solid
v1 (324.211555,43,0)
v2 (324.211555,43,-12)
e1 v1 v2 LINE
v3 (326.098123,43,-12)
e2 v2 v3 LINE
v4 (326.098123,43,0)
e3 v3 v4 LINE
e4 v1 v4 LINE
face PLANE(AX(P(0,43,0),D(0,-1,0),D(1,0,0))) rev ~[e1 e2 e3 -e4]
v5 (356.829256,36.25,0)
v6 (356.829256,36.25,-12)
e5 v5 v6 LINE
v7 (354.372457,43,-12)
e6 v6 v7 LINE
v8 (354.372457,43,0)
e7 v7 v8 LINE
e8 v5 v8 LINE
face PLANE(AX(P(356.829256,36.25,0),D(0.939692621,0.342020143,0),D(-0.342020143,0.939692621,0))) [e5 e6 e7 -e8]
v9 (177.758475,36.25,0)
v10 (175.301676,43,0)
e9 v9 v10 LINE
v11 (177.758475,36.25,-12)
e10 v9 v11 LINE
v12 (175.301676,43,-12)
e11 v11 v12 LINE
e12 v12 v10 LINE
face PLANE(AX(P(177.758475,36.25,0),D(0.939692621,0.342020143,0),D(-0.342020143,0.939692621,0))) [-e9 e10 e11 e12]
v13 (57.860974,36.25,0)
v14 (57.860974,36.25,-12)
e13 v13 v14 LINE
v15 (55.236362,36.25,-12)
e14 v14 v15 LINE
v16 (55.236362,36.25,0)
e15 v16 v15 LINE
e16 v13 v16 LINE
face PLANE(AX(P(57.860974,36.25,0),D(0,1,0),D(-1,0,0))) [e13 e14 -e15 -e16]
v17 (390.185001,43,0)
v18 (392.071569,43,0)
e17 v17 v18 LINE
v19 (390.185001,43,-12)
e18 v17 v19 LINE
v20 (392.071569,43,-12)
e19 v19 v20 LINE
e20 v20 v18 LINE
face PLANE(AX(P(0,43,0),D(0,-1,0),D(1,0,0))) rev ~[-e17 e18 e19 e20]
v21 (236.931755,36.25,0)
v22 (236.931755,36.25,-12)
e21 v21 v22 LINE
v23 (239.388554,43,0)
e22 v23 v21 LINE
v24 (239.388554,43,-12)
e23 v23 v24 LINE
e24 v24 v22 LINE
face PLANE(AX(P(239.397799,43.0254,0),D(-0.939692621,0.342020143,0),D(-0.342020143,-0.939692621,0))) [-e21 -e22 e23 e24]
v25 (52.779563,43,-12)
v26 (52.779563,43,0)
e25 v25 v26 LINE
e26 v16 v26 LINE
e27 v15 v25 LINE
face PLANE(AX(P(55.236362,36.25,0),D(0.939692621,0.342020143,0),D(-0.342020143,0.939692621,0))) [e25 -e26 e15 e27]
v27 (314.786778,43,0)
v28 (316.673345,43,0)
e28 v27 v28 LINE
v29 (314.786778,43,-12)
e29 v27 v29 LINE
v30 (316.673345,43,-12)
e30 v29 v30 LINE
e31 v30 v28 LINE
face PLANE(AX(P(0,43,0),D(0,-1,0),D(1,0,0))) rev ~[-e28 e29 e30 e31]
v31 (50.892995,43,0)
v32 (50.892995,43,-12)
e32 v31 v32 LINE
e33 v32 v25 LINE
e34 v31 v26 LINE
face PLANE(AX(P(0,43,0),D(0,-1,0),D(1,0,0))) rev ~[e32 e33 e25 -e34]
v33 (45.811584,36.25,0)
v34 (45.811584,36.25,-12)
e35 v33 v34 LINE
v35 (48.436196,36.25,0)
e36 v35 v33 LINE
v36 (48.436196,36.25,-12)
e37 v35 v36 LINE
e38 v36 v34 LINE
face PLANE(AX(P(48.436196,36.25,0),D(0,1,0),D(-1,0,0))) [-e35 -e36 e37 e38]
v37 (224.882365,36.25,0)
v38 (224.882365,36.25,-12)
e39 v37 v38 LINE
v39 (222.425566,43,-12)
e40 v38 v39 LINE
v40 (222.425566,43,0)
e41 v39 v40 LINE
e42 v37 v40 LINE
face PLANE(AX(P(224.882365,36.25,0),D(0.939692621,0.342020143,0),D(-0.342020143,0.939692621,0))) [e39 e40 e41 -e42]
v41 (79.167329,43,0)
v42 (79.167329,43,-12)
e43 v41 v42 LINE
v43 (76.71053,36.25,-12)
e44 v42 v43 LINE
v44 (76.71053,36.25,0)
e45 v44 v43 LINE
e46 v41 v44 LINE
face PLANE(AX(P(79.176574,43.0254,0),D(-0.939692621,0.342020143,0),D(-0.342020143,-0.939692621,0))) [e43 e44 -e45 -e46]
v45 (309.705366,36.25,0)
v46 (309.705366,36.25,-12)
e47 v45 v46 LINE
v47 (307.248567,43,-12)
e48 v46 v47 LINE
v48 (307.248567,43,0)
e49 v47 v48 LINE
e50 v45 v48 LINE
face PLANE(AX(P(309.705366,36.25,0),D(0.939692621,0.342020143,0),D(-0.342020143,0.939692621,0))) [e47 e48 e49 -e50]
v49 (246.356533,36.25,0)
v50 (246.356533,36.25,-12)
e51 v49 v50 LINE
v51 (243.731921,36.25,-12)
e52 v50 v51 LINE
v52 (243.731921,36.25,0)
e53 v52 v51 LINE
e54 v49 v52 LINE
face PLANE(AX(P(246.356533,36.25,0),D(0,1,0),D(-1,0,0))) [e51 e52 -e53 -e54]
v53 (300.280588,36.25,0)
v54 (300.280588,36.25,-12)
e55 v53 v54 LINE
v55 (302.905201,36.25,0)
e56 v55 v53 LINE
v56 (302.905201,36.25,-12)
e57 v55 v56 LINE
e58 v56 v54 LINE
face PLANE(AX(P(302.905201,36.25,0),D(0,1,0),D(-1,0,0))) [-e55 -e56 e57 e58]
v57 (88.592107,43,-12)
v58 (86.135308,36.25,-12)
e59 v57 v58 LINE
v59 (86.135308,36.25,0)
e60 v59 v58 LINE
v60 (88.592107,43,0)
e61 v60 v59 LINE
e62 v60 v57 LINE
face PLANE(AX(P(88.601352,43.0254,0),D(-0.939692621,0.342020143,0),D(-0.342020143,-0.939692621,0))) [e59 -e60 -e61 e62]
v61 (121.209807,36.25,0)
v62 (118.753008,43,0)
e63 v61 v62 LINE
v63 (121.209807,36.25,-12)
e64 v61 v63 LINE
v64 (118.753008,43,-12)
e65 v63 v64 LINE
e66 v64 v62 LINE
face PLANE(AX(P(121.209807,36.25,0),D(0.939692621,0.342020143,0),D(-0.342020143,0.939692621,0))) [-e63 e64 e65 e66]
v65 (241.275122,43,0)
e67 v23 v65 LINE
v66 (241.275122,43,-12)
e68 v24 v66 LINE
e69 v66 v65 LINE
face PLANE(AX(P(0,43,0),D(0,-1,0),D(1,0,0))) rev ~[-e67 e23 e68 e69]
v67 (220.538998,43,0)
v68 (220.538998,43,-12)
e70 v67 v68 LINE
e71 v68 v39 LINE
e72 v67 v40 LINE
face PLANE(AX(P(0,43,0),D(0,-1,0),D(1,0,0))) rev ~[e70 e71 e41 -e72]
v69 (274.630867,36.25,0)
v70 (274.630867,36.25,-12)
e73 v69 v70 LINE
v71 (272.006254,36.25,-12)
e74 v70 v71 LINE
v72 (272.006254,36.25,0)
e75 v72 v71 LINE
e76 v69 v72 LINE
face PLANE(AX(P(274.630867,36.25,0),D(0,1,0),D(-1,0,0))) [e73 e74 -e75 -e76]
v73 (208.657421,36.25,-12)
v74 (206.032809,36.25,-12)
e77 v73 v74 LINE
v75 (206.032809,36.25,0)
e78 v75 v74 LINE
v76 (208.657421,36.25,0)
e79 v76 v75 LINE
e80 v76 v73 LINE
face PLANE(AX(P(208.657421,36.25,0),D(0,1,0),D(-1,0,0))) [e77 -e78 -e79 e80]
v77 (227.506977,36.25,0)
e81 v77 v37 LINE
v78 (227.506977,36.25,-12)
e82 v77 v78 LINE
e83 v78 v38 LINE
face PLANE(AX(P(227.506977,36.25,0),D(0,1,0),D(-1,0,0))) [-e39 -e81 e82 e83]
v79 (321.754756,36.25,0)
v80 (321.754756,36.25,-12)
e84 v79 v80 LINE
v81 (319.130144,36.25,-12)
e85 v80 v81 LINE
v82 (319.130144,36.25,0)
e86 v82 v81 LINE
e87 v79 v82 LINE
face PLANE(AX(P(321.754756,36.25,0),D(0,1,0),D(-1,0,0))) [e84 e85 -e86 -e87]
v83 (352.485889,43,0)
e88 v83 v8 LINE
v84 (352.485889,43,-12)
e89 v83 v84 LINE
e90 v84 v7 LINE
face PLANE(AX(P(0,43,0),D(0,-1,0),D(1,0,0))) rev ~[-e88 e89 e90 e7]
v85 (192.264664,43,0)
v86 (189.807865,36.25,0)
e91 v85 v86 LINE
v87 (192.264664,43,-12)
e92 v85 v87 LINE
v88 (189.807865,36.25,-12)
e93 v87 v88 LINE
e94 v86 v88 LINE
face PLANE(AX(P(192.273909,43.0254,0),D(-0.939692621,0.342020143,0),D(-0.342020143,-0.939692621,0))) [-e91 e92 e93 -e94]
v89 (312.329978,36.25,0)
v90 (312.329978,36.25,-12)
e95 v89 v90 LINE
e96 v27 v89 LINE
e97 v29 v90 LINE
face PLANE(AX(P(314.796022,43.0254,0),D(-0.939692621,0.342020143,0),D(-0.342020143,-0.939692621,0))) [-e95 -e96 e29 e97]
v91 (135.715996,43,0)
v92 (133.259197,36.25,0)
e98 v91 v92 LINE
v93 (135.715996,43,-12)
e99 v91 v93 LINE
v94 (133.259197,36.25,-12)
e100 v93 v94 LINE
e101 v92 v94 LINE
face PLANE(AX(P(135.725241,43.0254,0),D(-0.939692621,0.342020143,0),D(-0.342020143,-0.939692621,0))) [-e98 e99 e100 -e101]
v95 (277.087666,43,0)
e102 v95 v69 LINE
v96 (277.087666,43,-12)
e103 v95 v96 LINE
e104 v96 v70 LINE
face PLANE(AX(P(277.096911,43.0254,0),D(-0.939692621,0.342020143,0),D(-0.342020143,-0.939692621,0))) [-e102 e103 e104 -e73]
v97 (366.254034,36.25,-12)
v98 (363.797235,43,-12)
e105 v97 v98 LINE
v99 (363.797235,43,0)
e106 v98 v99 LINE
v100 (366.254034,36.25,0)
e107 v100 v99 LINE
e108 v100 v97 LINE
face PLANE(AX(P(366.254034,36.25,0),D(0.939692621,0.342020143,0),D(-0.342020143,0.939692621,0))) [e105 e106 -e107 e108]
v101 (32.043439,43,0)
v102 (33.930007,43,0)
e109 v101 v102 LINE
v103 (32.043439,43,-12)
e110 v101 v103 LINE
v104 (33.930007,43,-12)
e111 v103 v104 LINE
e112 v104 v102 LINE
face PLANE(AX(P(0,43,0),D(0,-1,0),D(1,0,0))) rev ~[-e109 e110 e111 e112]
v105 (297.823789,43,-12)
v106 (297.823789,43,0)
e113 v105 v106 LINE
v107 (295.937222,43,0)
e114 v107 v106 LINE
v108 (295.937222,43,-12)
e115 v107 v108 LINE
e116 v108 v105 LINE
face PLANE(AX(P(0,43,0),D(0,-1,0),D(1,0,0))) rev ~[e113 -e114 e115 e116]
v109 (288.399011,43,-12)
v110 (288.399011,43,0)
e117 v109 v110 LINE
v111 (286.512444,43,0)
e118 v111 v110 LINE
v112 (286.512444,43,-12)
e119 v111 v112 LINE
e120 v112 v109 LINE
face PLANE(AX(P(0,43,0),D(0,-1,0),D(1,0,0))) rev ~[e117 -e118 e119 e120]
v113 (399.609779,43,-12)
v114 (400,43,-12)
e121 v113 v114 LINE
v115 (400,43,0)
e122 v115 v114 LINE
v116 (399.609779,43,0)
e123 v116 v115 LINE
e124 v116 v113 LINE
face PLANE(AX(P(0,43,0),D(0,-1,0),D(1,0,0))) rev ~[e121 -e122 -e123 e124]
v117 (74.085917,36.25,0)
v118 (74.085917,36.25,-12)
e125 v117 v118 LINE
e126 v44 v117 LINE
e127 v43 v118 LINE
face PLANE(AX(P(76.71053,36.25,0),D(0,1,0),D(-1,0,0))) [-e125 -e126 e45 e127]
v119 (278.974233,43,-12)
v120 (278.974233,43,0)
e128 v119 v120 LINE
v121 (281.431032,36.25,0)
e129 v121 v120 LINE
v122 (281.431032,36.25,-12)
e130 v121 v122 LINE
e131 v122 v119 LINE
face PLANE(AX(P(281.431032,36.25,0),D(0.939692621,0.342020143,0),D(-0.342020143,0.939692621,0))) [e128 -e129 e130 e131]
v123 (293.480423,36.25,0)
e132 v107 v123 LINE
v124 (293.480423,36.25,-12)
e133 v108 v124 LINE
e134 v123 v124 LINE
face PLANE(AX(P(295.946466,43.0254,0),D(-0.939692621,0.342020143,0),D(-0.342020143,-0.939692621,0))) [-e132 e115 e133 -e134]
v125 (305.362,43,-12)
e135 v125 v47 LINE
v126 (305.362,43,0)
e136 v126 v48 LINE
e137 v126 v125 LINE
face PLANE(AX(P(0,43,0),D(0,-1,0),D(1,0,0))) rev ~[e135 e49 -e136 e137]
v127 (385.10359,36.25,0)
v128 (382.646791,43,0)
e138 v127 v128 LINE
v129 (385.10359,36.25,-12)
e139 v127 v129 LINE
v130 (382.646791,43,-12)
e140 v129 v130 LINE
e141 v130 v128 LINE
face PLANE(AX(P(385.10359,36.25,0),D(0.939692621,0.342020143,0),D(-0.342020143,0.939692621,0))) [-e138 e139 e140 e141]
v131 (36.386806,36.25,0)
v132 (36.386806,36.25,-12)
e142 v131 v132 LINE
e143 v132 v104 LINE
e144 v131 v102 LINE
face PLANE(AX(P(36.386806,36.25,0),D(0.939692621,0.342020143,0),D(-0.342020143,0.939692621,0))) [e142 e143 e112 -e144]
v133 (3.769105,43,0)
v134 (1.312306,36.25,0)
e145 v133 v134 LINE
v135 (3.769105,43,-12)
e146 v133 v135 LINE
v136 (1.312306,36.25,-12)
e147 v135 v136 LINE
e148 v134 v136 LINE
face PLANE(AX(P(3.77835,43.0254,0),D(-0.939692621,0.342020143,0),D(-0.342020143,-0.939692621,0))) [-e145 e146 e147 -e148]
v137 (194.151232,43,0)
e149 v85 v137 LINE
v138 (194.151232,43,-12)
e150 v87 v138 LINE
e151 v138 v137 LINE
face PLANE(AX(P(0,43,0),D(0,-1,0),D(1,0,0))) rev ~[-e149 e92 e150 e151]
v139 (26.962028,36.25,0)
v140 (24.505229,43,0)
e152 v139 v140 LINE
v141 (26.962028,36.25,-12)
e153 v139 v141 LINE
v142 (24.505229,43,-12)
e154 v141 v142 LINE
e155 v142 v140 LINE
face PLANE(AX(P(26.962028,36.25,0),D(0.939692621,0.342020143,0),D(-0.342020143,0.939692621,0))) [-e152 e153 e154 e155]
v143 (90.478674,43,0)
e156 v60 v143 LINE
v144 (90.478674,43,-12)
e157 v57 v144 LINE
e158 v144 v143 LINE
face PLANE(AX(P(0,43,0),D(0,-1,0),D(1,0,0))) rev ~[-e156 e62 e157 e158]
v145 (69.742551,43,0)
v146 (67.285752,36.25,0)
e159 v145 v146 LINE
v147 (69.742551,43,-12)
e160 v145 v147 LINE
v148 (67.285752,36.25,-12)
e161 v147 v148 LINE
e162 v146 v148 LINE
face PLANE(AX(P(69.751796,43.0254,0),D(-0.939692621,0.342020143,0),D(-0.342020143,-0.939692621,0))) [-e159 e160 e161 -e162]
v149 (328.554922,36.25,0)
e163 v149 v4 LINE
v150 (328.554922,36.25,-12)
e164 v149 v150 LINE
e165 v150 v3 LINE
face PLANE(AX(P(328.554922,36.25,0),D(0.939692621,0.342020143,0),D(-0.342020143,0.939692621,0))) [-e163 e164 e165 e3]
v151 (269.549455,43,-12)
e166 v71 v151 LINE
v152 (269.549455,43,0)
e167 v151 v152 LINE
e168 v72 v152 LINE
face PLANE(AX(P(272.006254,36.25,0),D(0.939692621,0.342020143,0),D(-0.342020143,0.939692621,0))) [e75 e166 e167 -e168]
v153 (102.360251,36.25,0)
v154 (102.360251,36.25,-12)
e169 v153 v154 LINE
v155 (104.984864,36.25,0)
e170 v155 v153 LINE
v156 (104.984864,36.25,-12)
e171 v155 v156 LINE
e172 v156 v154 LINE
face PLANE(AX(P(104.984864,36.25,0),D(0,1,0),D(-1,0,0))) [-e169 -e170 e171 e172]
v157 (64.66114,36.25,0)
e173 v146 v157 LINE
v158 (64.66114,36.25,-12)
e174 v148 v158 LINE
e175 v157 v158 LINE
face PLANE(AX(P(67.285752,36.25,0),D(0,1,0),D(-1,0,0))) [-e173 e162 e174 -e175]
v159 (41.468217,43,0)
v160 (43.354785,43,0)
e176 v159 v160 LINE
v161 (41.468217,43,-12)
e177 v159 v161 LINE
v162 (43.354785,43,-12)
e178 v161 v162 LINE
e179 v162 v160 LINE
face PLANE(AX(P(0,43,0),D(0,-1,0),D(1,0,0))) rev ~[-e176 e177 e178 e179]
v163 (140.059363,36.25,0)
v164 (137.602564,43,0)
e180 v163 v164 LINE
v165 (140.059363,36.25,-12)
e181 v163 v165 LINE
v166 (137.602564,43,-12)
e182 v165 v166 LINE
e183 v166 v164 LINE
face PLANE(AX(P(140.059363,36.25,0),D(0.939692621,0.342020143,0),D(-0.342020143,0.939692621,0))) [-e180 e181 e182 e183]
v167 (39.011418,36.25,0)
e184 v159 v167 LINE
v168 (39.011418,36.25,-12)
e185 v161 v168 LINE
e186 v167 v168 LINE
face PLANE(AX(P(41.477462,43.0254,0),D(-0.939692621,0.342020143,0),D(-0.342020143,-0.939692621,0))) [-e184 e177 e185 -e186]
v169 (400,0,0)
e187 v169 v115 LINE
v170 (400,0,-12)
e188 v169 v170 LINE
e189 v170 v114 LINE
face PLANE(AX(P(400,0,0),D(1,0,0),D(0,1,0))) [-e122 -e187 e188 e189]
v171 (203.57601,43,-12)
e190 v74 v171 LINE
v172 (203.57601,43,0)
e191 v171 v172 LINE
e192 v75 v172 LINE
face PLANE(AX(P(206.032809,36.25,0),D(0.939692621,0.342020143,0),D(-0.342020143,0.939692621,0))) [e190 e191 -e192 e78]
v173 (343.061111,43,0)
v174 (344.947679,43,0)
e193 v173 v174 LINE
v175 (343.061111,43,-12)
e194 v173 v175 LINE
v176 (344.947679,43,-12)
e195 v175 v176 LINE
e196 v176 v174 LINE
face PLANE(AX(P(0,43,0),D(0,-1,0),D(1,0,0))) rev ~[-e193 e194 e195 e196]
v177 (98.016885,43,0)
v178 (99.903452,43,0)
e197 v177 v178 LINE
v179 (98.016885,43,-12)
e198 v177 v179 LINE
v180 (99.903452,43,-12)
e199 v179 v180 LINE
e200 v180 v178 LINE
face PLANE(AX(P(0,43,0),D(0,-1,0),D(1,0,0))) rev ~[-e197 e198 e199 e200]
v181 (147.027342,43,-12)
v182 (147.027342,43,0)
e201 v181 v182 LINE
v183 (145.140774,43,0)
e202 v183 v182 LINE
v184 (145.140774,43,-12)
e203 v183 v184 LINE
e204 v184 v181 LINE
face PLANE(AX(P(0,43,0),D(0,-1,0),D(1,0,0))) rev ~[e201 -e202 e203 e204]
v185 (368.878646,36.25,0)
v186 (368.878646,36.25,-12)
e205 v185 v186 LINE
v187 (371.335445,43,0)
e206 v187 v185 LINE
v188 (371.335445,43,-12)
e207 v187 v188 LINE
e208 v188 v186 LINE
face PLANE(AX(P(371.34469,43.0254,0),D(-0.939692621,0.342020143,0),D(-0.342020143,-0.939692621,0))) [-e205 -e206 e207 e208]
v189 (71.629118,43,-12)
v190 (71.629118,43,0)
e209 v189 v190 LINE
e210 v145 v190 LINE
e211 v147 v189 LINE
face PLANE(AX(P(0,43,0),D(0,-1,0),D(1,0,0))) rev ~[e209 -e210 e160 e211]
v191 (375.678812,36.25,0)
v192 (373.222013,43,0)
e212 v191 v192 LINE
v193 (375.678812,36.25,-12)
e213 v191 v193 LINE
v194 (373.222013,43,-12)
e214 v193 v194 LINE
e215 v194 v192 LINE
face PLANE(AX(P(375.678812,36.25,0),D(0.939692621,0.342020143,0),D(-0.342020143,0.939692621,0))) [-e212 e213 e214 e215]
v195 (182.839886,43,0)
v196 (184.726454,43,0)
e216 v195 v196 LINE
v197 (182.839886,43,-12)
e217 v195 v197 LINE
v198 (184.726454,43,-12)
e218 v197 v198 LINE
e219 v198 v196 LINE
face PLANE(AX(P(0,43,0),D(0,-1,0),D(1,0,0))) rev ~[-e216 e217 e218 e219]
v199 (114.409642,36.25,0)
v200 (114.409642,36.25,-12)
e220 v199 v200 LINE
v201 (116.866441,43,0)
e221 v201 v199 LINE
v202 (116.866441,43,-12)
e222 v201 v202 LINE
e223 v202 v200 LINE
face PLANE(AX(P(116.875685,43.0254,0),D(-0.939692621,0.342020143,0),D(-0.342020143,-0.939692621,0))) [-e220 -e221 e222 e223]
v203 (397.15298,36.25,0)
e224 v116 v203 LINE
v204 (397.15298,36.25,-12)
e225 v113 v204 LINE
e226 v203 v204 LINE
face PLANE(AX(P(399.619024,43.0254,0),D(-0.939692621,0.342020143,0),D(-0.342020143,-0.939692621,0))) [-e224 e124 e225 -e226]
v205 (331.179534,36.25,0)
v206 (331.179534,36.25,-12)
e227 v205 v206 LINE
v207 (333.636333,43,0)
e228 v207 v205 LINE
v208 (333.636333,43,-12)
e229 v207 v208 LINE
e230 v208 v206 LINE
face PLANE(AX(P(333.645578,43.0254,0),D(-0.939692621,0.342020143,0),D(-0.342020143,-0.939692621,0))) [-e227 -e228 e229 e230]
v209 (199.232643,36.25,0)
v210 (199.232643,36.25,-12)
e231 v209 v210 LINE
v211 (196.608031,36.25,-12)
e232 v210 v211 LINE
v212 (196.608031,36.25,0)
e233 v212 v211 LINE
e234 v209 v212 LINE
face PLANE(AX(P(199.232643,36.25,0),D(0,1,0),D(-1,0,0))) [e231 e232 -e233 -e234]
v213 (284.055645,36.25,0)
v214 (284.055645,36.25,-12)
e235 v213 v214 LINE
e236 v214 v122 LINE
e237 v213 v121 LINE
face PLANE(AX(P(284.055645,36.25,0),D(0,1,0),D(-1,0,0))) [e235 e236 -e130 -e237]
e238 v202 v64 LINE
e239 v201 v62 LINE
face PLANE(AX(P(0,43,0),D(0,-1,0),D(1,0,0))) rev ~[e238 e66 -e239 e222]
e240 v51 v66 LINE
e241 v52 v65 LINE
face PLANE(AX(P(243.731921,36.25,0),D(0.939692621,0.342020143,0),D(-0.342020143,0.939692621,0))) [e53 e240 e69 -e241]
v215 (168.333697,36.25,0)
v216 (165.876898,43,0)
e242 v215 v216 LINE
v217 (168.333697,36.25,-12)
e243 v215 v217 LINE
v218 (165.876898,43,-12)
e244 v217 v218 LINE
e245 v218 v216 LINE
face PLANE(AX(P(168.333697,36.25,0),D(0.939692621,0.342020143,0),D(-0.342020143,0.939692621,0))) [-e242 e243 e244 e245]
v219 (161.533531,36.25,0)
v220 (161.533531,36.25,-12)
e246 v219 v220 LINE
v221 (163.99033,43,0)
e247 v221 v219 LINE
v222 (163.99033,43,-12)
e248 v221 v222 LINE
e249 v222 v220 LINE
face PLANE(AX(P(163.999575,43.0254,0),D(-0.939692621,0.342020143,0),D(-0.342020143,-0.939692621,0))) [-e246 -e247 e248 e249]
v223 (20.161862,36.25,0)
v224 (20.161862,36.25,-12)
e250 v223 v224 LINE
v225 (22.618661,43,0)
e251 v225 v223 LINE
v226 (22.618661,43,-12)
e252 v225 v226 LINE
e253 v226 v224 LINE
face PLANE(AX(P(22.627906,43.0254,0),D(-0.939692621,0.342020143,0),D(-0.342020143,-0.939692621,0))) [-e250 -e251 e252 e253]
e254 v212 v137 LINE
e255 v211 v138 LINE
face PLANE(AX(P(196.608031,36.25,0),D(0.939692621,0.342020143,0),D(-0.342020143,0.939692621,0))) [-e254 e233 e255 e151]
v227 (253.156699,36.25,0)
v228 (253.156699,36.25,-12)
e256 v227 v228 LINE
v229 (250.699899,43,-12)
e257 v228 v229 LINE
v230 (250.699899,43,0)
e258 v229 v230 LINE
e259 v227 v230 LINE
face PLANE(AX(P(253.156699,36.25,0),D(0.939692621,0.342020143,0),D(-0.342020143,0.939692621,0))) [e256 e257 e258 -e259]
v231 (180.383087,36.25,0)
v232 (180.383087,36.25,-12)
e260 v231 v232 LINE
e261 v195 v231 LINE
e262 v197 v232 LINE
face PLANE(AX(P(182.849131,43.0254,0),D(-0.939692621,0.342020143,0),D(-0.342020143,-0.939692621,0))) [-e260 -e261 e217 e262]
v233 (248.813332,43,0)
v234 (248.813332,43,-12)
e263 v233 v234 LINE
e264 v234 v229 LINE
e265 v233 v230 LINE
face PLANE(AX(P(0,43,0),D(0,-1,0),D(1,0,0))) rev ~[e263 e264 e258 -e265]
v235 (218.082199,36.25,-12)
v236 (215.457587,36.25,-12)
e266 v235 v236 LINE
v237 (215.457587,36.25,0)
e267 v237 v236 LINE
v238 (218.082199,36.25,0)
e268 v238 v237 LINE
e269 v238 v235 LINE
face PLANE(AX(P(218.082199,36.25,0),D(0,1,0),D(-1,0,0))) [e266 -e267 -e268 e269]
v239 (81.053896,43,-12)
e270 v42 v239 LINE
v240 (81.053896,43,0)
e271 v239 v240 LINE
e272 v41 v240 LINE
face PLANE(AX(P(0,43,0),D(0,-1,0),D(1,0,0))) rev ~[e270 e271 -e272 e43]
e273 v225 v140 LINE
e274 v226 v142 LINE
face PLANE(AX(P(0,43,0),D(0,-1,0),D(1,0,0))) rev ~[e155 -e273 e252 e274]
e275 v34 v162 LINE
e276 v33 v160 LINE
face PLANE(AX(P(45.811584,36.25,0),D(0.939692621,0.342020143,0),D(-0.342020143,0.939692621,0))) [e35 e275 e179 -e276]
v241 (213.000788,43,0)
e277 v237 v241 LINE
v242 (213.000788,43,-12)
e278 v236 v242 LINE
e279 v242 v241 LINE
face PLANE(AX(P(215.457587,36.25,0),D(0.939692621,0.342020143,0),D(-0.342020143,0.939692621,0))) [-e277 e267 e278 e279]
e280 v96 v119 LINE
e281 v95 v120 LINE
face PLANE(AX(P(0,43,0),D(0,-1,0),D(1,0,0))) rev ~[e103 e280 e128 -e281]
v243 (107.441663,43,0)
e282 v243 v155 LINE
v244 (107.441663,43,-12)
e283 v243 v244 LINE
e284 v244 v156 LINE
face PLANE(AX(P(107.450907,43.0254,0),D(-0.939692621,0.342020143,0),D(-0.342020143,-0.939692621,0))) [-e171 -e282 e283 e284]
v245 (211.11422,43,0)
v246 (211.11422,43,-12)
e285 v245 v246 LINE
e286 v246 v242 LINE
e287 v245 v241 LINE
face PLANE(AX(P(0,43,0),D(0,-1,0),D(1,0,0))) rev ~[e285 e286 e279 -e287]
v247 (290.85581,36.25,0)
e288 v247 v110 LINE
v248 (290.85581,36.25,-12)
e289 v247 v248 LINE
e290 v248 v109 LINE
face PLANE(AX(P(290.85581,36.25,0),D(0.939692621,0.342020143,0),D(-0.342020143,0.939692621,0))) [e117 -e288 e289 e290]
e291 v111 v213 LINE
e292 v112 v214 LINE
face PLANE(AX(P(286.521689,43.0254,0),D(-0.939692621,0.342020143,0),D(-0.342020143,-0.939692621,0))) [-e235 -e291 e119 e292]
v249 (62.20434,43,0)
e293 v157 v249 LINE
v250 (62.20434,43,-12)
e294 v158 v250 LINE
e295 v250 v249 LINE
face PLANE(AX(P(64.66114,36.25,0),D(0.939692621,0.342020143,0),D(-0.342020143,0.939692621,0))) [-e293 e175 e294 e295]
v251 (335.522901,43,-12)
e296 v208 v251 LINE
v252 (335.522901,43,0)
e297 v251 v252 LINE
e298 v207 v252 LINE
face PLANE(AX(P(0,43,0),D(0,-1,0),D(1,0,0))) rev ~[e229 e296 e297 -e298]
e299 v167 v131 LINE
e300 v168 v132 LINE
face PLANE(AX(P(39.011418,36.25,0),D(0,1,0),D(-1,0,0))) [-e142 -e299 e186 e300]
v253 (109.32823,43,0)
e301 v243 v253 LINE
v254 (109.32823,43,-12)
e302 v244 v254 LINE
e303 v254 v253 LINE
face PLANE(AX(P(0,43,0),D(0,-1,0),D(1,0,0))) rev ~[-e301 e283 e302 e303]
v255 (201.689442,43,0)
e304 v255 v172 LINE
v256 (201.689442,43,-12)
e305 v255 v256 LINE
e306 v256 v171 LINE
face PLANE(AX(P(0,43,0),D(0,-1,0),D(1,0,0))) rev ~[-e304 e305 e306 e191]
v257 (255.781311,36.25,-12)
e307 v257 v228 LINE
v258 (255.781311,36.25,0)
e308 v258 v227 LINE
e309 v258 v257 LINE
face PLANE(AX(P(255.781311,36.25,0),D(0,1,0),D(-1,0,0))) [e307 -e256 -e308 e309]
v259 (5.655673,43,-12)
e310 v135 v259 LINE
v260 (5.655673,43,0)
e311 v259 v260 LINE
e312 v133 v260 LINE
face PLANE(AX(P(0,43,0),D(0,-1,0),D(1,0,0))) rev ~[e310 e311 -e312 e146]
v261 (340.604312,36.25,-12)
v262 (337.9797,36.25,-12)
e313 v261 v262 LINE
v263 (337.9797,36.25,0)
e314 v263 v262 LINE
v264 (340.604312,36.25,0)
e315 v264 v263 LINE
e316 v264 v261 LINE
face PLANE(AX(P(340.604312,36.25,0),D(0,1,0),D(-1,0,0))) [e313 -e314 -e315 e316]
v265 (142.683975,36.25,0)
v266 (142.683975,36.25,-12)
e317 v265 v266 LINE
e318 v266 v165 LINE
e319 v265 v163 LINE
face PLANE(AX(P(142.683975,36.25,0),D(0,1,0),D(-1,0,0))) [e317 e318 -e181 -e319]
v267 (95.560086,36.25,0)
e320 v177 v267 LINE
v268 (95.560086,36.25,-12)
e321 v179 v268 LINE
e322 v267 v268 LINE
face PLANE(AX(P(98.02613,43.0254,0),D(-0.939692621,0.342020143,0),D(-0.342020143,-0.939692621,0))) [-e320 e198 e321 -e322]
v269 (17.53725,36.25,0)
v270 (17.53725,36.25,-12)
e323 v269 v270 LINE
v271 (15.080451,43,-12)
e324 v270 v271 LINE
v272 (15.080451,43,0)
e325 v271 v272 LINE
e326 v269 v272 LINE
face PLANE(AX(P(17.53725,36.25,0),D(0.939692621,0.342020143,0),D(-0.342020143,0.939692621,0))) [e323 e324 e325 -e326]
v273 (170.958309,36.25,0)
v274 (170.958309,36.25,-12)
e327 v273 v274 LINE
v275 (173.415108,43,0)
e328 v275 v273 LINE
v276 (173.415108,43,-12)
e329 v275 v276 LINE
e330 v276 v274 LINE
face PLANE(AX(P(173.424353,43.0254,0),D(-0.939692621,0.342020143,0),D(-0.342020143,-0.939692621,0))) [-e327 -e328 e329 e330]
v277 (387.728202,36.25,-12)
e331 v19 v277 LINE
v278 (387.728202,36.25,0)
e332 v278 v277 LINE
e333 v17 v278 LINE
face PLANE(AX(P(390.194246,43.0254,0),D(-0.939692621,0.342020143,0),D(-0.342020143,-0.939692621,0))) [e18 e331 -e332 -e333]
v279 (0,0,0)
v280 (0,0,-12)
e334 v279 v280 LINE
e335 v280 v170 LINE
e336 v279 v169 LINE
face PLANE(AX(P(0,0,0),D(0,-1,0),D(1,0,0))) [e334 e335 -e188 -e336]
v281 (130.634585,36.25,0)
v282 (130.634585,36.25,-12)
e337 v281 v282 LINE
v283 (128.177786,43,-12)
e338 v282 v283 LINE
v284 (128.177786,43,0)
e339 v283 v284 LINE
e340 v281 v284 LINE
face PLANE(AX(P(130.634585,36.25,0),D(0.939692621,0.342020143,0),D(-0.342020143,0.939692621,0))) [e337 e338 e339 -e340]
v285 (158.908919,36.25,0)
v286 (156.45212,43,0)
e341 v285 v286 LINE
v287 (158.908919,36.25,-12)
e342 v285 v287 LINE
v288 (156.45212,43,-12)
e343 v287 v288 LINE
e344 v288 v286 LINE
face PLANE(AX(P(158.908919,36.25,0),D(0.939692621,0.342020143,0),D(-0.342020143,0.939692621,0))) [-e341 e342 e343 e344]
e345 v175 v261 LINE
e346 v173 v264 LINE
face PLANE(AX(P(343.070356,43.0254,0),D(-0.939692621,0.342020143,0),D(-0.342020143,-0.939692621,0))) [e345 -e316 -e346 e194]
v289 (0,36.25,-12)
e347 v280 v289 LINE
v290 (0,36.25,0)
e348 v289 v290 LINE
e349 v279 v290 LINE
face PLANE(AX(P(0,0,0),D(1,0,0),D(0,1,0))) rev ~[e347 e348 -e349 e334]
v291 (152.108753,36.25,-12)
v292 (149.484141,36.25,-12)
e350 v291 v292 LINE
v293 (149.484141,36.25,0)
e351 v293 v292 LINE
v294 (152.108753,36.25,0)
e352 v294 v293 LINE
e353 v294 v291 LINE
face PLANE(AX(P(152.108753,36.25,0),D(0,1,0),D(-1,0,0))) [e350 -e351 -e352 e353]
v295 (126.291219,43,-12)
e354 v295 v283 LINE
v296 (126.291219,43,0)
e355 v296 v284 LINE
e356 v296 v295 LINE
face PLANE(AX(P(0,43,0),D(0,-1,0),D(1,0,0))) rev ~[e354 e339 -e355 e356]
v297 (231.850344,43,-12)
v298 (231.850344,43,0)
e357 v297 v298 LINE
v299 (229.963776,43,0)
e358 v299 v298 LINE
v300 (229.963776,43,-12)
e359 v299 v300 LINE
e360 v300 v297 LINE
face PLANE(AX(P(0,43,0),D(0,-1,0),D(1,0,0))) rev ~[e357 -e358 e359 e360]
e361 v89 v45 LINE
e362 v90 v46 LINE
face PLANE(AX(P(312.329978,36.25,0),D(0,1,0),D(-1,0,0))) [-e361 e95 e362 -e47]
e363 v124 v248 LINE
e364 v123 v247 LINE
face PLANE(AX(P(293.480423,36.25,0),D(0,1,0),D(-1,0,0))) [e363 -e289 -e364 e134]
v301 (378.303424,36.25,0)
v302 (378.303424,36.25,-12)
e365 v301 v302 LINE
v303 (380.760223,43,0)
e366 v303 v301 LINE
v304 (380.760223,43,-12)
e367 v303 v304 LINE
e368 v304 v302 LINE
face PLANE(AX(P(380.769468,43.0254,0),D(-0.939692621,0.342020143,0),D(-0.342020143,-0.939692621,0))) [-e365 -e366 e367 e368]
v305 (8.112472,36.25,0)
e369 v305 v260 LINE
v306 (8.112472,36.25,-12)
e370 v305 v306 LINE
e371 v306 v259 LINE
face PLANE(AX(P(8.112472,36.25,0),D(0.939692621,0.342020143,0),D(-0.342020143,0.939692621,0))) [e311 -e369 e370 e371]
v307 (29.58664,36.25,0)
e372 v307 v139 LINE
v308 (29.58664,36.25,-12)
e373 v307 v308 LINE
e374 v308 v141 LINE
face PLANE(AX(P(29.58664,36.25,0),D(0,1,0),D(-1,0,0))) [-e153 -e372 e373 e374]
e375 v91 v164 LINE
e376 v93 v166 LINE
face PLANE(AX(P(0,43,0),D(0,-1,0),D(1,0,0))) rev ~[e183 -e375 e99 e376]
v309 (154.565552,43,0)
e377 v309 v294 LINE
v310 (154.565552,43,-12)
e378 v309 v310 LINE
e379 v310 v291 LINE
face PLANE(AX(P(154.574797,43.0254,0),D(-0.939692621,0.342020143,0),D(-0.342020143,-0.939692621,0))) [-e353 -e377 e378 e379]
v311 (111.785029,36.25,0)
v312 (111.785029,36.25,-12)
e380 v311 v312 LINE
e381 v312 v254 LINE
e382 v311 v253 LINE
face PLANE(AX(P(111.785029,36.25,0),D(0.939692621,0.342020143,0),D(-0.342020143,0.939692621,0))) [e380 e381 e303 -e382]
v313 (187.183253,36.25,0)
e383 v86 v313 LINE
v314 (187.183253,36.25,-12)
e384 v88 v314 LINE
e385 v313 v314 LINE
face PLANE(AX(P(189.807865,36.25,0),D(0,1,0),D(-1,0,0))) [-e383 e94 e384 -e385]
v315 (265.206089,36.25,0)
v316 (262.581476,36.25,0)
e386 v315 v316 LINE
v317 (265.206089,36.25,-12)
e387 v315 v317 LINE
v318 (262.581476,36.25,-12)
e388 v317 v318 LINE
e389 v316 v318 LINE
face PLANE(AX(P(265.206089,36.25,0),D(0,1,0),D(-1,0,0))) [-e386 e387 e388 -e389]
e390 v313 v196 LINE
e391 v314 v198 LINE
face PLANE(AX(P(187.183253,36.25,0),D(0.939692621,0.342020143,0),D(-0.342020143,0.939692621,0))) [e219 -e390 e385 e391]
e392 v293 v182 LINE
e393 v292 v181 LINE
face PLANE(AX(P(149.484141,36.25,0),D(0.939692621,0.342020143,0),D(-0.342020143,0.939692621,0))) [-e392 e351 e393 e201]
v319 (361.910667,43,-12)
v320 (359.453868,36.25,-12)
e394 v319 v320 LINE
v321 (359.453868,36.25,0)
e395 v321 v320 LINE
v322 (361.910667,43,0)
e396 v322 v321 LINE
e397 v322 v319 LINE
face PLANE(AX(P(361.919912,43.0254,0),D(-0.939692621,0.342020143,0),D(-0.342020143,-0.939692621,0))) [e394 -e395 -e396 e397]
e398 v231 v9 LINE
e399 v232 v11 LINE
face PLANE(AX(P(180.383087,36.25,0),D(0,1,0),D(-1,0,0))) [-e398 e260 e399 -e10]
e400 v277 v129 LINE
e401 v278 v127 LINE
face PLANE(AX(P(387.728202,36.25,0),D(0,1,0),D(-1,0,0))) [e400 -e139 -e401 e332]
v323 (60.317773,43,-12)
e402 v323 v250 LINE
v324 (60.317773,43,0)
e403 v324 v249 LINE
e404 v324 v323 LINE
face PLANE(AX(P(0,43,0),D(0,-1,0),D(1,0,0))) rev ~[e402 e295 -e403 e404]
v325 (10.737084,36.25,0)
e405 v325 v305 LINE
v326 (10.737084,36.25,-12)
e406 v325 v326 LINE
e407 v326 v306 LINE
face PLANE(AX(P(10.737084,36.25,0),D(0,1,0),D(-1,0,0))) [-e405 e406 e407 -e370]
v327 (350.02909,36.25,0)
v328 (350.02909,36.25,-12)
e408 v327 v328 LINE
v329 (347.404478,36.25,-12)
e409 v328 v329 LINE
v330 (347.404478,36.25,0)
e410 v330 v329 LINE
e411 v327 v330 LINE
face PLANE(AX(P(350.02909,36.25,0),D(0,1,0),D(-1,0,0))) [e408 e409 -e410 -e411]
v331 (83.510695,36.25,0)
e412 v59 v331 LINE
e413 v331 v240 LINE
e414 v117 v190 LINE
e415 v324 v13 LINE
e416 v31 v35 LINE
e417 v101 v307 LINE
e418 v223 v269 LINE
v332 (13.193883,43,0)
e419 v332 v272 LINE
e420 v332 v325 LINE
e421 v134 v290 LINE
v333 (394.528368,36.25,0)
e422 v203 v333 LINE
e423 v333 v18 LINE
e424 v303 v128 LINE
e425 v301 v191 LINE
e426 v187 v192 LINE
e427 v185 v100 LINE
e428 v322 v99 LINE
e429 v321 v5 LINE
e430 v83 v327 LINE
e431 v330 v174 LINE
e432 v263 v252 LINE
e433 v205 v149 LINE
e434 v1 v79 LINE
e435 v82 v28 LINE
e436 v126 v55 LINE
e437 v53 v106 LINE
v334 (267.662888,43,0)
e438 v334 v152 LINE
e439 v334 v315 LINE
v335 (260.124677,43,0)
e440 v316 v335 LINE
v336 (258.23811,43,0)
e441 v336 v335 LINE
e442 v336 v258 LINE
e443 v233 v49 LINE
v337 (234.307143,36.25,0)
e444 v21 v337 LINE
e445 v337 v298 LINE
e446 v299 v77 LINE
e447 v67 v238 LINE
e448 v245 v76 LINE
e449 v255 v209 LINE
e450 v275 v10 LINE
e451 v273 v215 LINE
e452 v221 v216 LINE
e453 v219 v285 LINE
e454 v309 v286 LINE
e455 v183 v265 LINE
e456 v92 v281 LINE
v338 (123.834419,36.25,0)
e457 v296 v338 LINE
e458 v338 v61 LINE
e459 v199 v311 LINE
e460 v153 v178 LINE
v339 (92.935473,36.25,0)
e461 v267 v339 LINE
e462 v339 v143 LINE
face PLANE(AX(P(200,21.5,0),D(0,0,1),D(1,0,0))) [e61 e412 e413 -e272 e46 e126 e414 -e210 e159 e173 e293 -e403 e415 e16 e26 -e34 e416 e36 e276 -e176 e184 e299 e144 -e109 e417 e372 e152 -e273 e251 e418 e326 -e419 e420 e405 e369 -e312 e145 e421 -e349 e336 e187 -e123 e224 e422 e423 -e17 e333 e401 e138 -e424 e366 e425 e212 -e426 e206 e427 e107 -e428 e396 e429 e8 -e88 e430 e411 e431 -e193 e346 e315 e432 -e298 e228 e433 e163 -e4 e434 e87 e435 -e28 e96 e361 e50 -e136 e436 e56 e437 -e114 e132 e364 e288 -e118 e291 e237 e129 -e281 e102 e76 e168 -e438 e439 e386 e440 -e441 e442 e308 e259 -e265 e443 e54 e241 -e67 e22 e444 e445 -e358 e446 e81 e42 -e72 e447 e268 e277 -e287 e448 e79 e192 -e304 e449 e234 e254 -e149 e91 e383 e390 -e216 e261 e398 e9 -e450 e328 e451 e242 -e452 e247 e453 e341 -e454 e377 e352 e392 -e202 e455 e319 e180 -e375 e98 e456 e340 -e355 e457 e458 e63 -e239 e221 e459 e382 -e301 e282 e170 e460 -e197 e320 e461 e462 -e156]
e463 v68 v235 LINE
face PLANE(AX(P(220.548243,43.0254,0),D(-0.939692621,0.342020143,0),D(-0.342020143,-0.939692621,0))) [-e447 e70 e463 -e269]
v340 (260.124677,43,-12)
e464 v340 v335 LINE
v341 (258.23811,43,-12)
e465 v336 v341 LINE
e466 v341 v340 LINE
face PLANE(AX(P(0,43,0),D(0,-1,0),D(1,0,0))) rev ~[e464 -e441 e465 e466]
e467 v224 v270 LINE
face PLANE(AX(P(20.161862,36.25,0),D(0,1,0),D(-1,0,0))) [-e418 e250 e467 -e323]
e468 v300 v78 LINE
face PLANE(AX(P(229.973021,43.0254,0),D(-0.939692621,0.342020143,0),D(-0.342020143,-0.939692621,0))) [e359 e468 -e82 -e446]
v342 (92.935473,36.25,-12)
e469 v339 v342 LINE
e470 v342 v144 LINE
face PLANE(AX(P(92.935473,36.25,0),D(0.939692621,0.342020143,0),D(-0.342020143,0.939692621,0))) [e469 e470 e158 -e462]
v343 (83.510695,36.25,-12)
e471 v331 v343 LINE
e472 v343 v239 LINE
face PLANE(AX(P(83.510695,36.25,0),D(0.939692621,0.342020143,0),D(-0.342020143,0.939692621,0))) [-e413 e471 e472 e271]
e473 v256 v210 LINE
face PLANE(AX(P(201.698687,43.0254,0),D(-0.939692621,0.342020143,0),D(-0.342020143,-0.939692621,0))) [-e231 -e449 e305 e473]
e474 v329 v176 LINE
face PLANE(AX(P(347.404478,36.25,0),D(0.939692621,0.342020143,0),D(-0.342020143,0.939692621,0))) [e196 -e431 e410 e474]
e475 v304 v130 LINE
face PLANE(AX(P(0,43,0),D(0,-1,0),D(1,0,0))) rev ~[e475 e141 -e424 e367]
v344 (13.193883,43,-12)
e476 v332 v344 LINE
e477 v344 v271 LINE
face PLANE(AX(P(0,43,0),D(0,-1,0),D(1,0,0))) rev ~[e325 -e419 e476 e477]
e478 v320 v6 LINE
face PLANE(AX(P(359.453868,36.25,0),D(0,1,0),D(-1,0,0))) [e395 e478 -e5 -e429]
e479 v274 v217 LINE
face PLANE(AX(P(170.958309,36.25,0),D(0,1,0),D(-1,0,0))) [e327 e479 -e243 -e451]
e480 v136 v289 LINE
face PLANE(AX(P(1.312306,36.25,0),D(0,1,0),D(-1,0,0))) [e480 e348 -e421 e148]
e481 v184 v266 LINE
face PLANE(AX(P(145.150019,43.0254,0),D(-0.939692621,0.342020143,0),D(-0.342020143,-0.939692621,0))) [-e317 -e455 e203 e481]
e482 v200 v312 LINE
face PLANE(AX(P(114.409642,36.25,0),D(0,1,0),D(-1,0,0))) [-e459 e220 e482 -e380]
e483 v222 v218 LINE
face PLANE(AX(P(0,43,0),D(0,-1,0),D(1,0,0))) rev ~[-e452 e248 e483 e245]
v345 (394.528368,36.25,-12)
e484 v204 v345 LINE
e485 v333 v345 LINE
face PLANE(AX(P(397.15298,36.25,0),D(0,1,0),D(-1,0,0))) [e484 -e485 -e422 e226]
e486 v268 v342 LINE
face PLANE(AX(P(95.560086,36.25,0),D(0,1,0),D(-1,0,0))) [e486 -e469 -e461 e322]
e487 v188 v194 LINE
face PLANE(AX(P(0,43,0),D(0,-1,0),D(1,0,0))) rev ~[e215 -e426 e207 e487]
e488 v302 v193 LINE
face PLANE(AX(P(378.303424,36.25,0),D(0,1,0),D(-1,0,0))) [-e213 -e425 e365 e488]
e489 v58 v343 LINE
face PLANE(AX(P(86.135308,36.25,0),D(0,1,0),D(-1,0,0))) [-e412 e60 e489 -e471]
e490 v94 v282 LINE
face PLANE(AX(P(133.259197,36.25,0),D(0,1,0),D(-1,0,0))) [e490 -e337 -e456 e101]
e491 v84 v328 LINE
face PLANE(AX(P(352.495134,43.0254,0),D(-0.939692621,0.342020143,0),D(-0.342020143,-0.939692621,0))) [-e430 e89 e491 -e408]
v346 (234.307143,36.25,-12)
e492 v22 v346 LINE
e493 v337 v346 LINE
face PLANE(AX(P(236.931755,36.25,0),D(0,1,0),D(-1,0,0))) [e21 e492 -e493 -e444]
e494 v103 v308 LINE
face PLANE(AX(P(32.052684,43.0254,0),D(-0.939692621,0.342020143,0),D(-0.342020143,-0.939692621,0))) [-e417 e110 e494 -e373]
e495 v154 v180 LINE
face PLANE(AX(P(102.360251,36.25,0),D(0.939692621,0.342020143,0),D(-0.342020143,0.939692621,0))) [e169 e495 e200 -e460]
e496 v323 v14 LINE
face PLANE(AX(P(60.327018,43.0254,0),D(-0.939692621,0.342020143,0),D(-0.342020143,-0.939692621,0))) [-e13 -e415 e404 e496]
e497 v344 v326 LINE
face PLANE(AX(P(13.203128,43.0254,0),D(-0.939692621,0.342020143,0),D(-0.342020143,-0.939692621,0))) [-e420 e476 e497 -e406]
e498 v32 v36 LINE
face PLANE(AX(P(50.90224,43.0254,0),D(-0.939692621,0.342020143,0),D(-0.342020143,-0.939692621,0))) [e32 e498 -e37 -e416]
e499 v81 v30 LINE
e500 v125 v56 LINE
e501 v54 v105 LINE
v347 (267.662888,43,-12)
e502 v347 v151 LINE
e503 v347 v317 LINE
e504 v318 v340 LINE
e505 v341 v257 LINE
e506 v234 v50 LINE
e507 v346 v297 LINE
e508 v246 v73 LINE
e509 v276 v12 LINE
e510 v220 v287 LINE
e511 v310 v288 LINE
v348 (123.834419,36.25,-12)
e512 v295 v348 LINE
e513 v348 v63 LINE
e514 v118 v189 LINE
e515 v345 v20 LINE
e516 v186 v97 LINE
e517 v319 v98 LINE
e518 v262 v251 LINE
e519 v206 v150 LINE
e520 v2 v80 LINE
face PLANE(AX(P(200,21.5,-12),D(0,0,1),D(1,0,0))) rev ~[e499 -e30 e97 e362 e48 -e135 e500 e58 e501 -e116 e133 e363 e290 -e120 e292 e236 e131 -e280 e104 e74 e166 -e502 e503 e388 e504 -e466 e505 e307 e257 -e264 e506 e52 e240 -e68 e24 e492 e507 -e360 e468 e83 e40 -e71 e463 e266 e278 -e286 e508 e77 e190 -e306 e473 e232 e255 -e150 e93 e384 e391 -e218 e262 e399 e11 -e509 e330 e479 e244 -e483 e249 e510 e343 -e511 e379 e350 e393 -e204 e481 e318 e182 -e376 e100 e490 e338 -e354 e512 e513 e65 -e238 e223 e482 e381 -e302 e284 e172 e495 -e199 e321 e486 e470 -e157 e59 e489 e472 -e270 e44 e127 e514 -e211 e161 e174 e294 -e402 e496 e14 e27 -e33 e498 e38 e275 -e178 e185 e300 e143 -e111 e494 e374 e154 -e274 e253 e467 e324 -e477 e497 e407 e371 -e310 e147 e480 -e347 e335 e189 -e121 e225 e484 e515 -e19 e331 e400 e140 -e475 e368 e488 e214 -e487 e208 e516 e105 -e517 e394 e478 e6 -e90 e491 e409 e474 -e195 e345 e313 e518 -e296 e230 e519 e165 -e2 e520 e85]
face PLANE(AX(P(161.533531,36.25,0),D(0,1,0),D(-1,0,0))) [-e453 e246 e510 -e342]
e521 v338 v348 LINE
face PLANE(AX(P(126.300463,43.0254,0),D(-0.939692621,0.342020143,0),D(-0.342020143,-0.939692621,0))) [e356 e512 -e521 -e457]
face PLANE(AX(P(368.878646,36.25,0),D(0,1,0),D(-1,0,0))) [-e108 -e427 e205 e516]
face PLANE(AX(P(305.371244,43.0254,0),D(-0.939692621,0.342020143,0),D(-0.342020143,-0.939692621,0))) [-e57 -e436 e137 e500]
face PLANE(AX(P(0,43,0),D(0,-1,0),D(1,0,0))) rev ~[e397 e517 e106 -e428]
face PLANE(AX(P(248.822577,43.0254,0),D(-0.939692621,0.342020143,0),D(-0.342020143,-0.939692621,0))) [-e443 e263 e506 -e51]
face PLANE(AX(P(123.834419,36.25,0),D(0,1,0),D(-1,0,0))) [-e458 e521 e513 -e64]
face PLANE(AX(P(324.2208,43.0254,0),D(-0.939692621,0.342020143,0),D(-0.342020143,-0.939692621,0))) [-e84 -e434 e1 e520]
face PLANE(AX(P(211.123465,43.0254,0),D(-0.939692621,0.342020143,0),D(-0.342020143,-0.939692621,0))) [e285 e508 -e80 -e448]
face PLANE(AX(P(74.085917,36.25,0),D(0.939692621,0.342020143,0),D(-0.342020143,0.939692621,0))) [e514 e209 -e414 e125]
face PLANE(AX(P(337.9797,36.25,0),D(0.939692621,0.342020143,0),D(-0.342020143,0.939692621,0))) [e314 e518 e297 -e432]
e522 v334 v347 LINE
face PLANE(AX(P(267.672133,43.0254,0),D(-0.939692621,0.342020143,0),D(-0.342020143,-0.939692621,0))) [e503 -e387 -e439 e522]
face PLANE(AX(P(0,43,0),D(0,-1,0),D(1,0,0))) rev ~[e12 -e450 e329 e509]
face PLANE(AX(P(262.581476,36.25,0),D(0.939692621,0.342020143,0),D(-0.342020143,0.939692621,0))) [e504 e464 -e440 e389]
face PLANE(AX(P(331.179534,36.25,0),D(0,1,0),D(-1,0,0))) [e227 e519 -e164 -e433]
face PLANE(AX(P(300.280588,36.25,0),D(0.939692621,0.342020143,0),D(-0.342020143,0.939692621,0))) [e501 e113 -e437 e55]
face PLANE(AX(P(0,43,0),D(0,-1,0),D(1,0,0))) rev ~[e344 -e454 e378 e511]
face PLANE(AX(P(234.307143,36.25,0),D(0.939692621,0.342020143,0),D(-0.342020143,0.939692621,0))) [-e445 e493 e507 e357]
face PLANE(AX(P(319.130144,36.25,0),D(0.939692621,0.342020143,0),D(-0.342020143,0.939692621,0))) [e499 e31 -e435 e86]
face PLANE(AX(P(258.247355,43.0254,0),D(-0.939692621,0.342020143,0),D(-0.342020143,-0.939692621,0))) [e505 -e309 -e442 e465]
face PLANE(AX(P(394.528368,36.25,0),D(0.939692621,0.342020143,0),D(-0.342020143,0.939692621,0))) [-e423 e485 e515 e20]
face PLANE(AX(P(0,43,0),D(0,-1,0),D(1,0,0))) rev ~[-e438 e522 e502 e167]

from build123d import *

# Parameters (mm, degrees)
BLANKSKE_W        = 400
BLANKSKE_H        = 43
BLANK_DEPTH       = 12
TOOTHCUTSIM_DEPTH = 403.483540036
TEETHCUTS_COUNT   = 43
TEETHCUTS_PITCH   = 9.42477795


with BuildPart() as part:
    # BlankSke → Blank (new body)
    with BuildSketch(Plane.XY):
        with Locations((200, 21.5)):
            Rectangle(BLANKSKE_W, BLANKSKE_H)
    extrude(amount=-BLANK_DEPTH)

    # TooCutSkeSim → ToothCutSim (cut, through all)
    with BuildSketch(Plane.XY):
        Polygon((1.312306109, 36.25), (-1.312306109, 36.25), (-3.778350034, 43.0254), (3.778350034, 43.0254), align=None)
    toothcutsim = extrude(amount=-TOOTHCUTSIM_DEPTH, mode=Mode.SUBTRACT)

    # TeethCuts: ToothCutSim ×43
    with Locations(*[(i * TEETHCUTS_PITCH, 0, 0) for i in range(1, TEETHCUTS_COUNT)]):
        add(toothcutsim, mode=Mode.SUBTRACT)


solid = part.part
